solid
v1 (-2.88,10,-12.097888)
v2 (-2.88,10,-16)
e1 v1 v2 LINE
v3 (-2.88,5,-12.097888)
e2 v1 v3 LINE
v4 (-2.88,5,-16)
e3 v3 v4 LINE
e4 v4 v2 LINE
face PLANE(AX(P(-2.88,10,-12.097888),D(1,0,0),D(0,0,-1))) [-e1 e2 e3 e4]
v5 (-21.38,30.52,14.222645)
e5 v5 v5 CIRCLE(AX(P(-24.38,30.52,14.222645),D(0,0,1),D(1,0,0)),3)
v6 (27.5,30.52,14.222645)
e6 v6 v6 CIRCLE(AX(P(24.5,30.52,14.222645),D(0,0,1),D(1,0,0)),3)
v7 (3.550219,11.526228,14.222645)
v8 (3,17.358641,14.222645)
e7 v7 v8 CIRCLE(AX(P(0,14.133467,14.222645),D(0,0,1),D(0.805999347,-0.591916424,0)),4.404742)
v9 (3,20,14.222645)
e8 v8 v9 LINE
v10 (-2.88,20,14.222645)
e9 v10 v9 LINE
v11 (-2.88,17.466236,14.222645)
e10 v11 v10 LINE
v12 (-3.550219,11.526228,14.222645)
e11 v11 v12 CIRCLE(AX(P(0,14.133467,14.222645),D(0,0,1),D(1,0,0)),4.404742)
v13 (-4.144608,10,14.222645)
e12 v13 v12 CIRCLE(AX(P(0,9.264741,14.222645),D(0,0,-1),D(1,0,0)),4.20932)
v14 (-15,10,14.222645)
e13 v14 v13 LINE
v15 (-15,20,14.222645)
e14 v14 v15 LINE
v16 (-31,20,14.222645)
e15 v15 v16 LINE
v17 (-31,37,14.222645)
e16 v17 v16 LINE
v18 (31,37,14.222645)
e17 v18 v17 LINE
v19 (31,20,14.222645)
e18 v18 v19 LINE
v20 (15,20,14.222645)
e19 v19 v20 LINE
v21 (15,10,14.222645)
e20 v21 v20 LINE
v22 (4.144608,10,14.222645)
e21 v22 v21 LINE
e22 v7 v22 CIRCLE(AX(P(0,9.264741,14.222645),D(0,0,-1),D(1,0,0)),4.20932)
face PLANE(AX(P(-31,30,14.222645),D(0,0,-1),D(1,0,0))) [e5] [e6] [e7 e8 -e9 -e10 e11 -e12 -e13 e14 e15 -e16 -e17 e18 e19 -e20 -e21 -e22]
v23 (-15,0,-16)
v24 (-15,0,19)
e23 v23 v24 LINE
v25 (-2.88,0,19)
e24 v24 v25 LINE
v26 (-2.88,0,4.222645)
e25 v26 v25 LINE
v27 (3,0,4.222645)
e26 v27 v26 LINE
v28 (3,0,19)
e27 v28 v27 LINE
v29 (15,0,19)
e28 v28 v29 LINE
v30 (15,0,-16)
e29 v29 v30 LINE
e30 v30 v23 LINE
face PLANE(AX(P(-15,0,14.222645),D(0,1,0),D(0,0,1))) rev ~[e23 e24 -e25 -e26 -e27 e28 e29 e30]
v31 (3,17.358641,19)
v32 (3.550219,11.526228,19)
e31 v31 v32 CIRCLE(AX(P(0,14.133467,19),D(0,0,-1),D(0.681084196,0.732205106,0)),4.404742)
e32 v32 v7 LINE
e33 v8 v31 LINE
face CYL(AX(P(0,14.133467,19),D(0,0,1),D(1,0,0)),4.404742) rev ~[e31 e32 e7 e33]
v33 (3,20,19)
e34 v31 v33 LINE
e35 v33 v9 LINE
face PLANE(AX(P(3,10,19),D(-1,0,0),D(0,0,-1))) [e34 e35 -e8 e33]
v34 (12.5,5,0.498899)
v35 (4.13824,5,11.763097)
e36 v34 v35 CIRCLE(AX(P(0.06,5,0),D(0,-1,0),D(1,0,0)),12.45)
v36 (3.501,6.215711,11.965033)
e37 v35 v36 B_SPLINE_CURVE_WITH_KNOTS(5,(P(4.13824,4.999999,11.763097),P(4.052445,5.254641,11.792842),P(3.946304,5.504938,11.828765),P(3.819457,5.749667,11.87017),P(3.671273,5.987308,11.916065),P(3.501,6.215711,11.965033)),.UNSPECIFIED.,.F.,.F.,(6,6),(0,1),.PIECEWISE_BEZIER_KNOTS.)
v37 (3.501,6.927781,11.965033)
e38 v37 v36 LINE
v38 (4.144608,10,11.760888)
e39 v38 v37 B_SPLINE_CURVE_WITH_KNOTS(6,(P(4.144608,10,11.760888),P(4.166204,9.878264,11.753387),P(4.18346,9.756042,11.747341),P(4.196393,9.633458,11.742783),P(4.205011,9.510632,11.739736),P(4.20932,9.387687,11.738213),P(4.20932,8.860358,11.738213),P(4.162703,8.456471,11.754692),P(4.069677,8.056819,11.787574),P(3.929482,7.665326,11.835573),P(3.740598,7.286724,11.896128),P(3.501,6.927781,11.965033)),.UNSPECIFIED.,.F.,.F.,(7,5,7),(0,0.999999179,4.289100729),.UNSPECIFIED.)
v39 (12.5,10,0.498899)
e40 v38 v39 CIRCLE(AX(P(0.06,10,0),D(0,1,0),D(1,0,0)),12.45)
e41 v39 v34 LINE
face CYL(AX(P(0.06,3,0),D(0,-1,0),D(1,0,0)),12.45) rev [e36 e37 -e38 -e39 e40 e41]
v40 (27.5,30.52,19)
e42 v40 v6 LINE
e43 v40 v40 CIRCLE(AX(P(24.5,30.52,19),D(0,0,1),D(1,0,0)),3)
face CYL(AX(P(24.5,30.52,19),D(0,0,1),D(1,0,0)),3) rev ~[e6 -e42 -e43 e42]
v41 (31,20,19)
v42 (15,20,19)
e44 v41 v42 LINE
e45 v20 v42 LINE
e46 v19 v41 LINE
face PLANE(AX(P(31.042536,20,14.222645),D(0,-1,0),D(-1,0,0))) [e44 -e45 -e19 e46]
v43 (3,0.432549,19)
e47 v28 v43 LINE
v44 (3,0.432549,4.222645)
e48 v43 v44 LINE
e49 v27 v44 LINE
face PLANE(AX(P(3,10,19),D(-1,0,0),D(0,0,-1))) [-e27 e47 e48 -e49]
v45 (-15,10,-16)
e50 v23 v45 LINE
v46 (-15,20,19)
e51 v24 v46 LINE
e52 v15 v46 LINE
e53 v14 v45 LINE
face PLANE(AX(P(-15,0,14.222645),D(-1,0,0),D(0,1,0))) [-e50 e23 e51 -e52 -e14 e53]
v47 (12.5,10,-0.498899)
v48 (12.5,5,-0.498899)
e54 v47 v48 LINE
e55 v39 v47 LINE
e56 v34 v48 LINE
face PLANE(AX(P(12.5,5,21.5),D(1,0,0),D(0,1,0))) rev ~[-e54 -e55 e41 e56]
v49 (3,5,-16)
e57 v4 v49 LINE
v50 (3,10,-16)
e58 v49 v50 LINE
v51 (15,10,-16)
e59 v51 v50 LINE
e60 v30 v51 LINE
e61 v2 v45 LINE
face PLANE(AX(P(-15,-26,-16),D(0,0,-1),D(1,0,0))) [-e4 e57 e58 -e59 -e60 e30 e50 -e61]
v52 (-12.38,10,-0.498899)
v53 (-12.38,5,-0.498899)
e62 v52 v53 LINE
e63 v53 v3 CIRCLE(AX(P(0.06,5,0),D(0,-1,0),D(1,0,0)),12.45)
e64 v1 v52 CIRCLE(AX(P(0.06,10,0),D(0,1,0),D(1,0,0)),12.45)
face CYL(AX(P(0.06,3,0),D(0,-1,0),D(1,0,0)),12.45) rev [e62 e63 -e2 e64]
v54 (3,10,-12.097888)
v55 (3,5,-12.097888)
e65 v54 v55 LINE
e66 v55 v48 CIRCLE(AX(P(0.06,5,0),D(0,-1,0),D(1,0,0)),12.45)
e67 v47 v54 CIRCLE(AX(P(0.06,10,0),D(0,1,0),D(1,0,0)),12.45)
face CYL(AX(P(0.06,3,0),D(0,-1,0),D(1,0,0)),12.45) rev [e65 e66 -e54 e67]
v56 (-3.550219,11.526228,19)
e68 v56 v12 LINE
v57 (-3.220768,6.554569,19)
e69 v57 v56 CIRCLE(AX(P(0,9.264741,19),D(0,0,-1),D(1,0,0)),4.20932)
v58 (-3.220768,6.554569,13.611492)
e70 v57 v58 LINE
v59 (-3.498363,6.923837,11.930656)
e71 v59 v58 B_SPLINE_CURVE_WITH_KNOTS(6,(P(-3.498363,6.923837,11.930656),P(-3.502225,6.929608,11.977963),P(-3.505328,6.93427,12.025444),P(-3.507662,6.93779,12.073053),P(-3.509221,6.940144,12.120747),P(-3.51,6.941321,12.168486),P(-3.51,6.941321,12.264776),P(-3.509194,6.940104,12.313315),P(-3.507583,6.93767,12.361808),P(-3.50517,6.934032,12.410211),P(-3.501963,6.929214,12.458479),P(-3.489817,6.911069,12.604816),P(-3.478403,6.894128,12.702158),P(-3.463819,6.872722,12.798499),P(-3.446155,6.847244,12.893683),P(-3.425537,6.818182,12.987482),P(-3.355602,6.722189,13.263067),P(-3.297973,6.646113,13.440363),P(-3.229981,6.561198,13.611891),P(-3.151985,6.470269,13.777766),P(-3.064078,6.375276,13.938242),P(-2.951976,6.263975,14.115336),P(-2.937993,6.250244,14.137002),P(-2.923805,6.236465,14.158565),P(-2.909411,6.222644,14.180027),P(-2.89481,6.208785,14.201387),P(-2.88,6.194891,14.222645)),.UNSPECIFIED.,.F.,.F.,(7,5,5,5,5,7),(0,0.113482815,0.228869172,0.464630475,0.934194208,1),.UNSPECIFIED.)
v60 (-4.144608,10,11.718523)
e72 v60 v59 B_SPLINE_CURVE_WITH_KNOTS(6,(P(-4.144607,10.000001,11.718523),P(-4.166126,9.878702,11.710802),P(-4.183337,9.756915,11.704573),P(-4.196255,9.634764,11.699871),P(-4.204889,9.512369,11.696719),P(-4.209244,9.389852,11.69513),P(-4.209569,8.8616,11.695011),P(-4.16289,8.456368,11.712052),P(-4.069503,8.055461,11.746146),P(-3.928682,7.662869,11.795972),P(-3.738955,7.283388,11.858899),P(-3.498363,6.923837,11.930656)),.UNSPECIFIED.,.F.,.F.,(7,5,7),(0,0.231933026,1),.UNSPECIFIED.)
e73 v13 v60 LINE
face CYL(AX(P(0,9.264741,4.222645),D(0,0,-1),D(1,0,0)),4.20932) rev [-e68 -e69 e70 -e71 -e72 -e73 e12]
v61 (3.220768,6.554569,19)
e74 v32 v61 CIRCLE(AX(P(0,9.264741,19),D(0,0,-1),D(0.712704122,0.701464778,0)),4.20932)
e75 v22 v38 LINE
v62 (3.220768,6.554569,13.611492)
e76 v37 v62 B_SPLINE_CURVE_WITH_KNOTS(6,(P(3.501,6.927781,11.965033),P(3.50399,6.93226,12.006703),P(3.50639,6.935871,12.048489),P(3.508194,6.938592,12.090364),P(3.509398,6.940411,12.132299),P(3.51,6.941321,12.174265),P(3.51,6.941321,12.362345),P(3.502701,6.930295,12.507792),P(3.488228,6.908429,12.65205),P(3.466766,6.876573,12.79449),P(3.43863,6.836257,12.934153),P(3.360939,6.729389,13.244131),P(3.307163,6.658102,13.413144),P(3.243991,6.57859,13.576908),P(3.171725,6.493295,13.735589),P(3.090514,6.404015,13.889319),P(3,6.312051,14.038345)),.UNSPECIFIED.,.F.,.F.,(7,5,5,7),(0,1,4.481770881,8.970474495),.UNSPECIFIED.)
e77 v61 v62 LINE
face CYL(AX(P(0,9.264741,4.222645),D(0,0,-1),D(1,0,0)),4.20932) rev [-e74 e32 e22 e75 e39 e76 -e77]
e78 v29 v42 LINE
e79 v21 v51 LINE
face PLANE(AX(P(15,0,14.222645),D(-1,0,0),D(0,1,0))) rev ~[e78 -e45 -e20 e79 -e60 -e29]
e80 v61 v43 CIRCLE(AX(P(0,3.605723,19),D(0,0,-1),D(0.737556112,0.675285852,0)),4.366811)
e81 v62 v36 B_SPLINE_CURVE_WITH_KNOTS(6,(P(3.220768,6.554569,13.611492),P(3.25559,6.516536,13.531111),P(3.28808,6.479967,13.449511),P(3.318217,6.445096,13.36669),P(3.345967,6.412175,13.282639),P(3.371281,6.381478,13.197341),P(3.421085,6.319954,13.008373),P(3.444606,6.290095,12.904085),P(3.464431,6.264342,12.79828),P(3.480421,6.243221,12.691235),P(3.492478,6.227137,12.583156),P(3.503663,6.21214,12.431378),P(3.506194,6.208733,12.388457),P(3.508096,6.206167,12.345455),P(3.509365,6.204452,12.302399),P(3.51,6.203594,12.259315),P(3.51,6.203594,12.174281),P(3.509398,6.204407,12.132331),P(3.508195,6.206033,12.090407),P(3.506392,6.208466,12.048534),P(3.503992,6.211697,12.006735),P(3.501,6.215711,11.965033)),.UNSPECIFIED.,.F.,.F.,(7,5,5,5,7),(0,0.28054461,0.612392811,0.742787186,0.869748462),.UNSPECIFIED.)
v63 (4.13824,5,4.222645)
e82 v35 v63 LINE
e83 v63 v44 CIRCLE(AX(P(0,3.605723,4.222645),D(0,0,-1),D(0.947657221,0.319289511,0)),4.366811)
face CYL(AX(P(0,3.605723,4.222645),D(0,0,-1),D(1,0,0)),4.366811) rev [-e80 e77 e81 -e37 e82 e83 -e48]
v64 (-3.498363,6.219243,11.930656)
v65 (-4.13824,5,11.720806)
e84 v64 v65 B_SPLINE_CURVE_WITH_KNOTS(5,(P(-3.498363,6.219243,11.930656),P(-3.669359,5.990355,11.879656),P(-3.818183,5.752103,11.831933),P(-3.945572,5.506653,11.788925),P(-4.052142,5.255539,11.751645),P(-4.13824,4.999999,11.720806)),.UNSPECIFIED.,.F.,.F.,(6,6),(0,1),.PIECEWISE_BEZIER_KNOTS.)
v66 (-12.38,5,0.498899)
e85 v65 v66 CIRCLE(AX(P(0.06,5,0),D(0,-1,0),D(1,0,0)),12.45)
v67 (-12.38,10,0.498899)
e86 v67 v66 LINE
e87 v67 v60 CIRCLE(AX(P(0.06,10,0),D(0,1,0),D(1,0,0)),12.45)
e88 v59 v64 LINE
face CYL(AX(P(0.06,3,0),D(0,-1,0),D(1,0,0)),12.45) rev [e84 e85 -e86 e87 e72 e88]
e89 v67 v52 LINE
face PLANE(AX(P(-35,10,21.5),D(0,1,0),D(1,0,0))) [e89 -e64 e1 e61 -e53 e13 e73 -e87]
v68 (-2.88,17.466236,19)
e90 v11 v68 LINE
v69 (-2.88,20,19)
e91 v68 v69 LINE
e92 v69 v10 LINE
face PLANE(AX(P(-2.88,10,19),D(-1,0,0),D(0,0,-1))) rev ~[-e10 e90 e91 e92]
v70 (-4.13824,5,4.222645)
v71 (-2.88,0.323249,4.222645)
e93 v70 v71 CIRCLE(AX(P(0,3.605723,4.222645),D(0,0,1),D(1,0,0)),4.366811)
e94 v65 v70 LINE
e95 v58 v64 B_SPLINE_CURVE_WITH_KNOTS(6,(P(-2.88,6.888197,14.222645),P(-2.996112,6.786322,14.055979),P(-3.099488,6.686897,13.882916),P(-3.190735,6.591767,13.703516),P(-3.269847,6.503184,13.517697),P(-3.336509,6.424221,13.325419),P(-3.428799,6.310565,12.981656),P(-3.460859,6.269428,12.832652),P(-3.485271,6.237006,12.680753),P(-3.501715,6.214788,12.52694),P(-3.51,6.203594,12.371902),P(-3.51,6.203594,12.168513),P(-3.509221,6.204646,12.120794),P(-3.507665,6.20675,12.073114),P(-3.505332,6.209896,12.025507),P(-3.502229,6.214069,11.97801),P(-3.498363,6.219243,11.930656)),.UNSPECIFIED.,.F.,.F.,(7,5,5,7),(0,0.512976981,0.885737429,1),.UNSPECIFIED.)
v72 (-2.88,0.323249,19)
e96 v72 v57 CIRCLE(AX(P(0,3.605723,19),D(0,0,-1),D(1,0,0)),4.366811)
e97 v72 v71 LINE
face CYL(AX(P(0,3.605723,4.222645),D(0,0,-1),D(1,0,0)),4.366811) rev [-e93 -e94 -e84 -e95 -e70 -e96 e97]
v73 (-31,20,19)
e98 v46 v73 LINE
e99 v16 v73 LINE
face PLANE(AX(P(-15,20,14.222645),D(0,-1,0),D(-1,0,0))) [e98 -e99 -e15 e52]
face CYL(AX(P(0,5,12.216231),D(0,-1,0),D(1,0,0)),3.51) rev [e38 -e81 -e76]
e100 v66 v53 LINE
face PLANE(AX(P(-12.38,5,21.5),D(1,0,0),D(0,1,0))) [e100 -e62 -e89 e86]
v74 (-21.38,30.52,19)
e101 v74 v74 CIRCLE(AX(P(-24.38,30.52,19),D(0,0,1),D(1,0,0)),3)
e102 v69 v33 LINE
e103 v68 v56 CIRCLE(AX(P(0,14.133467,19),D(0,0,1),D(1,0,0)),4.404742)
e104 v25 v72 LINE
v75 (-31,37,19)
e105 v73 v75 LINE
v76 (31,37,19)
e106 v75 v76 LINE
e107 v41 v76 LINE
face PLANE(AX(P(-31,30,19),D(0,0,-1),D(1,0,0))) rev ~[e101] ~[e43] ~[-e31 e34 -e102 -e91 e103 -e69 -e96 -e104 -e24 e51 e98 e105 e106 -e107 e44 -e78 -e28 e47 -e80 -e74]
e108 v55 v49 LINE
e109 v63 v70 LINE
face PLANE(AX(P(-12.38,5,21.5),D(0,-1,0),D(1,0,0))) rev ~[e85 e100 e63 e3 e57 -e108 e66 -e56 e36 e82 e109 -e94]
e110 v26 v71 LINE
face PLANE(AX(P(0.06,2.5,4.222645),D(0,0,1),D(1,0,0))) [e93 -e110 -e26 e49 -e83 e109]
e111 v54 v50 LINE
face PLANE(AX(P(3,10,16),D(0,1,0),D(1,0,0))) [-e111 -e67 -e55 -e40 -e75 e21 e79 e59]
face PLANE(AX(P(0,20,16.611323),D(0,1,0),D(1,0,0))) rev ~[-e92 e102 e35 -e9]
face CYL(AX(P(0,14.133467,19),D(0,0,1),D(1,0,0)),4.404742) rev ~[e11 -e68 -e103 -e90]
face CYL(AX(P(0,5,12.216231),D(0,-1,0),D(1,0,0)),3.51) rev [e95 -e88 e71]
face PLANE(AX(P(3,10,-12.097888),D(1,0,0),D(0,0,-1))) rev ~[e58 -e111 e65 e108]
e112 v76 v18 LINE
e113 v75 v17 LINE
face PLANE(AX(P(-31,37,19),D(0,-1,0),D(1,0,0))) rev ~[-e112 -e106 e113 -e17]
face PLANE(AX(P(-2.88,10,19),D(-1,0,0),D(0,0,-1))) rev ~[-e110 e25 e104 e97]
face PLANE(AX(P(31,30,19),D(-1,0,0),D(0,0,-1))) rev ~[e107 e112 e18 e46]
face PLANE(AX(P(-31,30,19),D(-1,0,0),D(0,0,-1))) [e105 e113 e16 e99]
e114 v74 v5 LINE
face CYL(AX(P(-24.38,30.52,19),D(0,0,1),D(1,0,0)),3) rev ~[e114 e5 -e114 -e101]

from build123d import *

# Parameters (mm, degrees)
SKETCH_1_W                = 70
SKETCH_1_H                = 43
EXTRUDE_1_DEPTH           = 10
SKETCH_8_W                = 24.88
SKETCH_8_H                = 5
CUT_EXTRUDE_4_DEPTH       = 57.338264084
EXTRUDE_1_2_DEPTH         = 5
EXTRUDE_1_2_DEPTH_BACK    = 2
SKETCH_11_R               = 20.45
SKETCH_11_R_2             = 12.45
CUT_EXTRUDE_6_DEPTH       = 5
CUT_EXTRUDE_7_DEPTH       = 5
SKETCH_16_W               = 5.88
SKETCH_16_H               = 11
CUT_EXTRUDE_8_DEPTH       = 5
SKETCH_17_W               = 5.88
SKETCH_17_H               = 8.352111755
CUT_EXTRUDE_9_DEPTH       = 5
CUT_EXTRUDE_10_DEPTH      = 5
CUT_EXTRUDE_11_DEPTH      = 5
SKETCH_21_R               = 3
CUT_EXTRUDE_12_DEPTH      = 43.275879648
SKETCH_22_R               = 3
CUT_EXTRUDE_13_DEPTH      = 43.275879648
SKETCH_24_R               = 3.51
CUT_EXTRUDE_15_DEPTH      = 7
SKETCH_25_W               = 22.5
SKETCH_25_H               = 10
EXTRUDE_2_DEPTH           = 5
SKETCH_26_W               = 22.62
SKETCH_26_H               = 10
EXTRUDE_3_DEPTH           = 5
SKETCH_28_W               = 5.88
SKETCH_28_H               = 7.531424881
CUT_EXTRUDE_16_DEPTH      = 5
CUT_EXTRUDE_2_DEPTH       = 45
CUT_EXTRUDE_2_DEPTH_BACK  = 31
SKETCH_32_W               = 110
SKETCH_32_H               = 112
SKETCH_32_W_2             = 30
SKETCH_32_H_2             = 32
SKETCH_33_W               = 12
SKETCH_33_H               = 10
SKETCH_33_W_2             = 12.12
EXTRUDE_5_DEPTH           = 3
SKETCH_40_W               = 12
SKETCH_40_H               = 4.777354505
EXTRUDE_7_DEPTH           = 10
SKETCH_41_W               = 12.12
SKETCH_41_H               = 4.777354505
EXTRUDE_8_DEPTH           = 10
CUT_EXTRUDE_17_DEPTH      = 10
CUT_EXTRUDE_17_DEPTH_BACK = 10
SKETCH_42_R               = 4.209320402
SKETCH_53_W               = 4.777354505
SKETCH_53_H               = 10
EXTRUDE_9_DEPTH           = 11
SKETCH_56_W               = 4.777354505
SKETCH_56_H               = 20
EXTRUDE_10_DEPTH          = 11
SKETCH_57_W               = 4.777354505
SKETCH_57_H               = 10
CUT_EXTRUDE_18_DEPTH      = 11
SKETCH_58_W               = 4.777354505
SKETCH_58_H               = 10
EXTRUDE_11_DEPTH          = 5
SKETCH_59_W               = 4.777354505
SKETCH_59_H               = 10
EXTRUDE_12_DEPTH          = 5
SKETCH_60_W               = 62
SKETCH_60_H               = 4.777354505
EXTRUDE_13_DEPTH          = 10
SKETCH_61_W               = 5.88
SKETCH_61_H               = 5
CUT_EXTRUDE_19_DEPTH      = 10
SKETCH_69_W               = 4.777354505
SKETCH_69_H               = 10
EXTRUDE_14_DEPTH          = 16
SKETCH_70_W               = 4.777354505
SKETCH_70_H               = 10
EXTRUDE_15_DEPTH          = 16
SKETCH_83_W               = 62
SKETCH_83_H               = 4.777354505
EXTRUDE_16_DEPTH          = 29
SKETCH_86_R               = 3
CUT_EXTRUDE_20_DEPTH      = 76.279479276
SKETCH_85_R               = 3
CUT_EXTRUDE_21_DEPTH      = 76.279479276
SKETCH_87_W               = 62
SKETCH_87_H               = 22
CUT_EXTRUDE_22_DEPTH      = 76.279479276
SKETCH_90_W               = 16.042506896
SKETCH_90_H               = 20
SKETCH_90_W_2             = 16.042536038
CUT_EXTRUDE_23_DEPTH      = 10
SKETCH_91_R               = 4.404741758
CUT_EXTRUDE_24_DEPTH      = 10
SKETCH_92_R               = 4.366810658
CUT_EXTRUDE_25_DEPTH      = 53.335030246


with BuildPart() as part:
    # 草圖1 → Extrude 1 (new body)
    with BuildSketch(Plane(origin=(0, 0, 0), x_dir=(1, 0, 0), z_dir=(0, 1, 0))):
        Rectangle(SKETCH_1_W, SKETCH_1_H)
    extrude(amount=EXTRUDE_1_DEPTH)

    # 草圖8 → 除料-伸長4 (cut, through all)
    with BuildSketch(Plane.XY.offset(21.5)):
        with Locations((0.06, 7.5)):
            Rectangle(SKETCH_8_W, SKETCH_8_H)
    extrude(amount=-CUT_EXTRUDE_4_DEPTH, mode=Mode.SUBTRACT)

    # 草圖11 → Extrude 1 2 (add, two sides: drawn at the far end of the back side and taken through both)
    with BuildSketch(Plane(origin=(0, 5, 0), x_dir=(1, 0, 0), z_dir=(0, 1, 0)).offset(-EXTRUDE_1_2_DEPTH_BACK)):
        with Locations((0.06, 0)):
            Circle(SKETCH_11_R)
        with Locations((0.06, 0)):
            Circle(SKETCH_11_R_2, mode=Mode.SUBTRACT)
    extrude(amount=EXTRUDE_1_2_DEPTH + EXTRUDE_1_2_DEPTH_BACK)

    # 草圖14 → 除料-伸長6 (cut)
    with BuildSketch(Plane(origin=(0, 5, 0), x_dir=(1, 0, 0), z_dir=(0, 1, 0))):
        Polygon((0.06, -20.45), (12.5, -20.45), (12.5, -21.5), (-12.38, -21.5), (-12.38, -20.45), align=None)
    extrude(amount=-CUT_EXTRUDE_6_DEPTH, mode=Mode.SUBTRACT)

    # 草圖15 → 除料-伸長7 (cut)
    with BuildSketch(Plane(origin=(0, 5, 0), x_dir=(1, 0, 0), z_dir=(0, 1, 0))):
        Polygon((0.06, 20.45), (12.5, 20.45), (12.5, 21.5), (-12.38, 21.5), (-12.38, 20.45), align=None)
    extrude(amount=-CUT_EXTRUDE_7_DEPTH, mode=Mode.SUBTRACT)

    # 草圖16 → 除料-伸長8 (cut)
    with BuildSketch(Plane(origin=(0, 10, 0), x_dir=(1, 0, 0), z_dir=(0, 1, 0))):
        with Locations((0.06, 17.597888245)):
            Rectangle(SKETCH_16_W, SKETCH_16_H)
    extrude(amount=-CUT_EXTRUDE_8_DEPTH, mode=Mode.SUBTRACT)

    # 草圖17 → 除料-伸長9 (cut)
    with BuildSketch(Plane(origin=(0, 10, 0), x_dir=(1, 0, 0), z_dir=(0, 1, 0))):
        with Locations((0.06, -16.273944123)):
            Rectangle(SKETCH_17_W, SKETCH_17_H)
    extrude(amount=-CUT_EXTRUDE_9_DEPTH, mode=Mode.SUBTRACT)

    # 草圖19 → 除料-伸長10 (cut)
    with BuildSketch(Plane(origin=(0, 5, 0), x_dir=(1, 0, 0), z_dir=(0, 1, 0))):
        Polygon((-2.88, 20.237561612), (-2.88, 20.45), (2.98755849, 20.45), (3, 20.237561612), align=None)
    extrude(amount=-CUT_EXTRUDE_10_DEPTH, mode=Mode.SUBTRACT)

    # 草圖20 → 除料-伸長11 (cut)
    with BuildSketch(Plane(origin=(0, 5, 0), x_dir=(1, 0, 0), z_dir=(0, 1, 0))):
        Polygon((3, -20.237561612), (3, -20.45), (-2.887827835, -20.45), (-2.88, -20.237561612), align=None)
    extrude(amount=-CUT_EXTRUDE_11_DEPTH, mode=Mode.SUBTRACT)

    # 草圖21 → 除料-伸長12 (cut, through all)
    with BuildSketch(Plane(origin=(0, 10, 0), x_dir=(1, 0, 0), z_dir=(0, 1, 0))):
        with Locations(Location((-25, 11.5, 0), (0, 0, 270))):
            Circle(SKETCH_21_R)
    extrude(amount=-CUT_EXTRUDE_12_DEPTH, mode=Mode.SUBTRACT)

    # 草圖22 → 除料-伸長13 (cut, through all)
    with BuildSketch(Plane(origin=(0, 10, 0), x_dir=(1, 0, 0), z_dir=(0, 1, 0))):
        with Locations(Location((25, 11.5, 0), (0, 0, 270))):
            Circle(SKETCH_22_R)
    extrude(amount=-CUT_EXTRUDE_13_DEPTH, mode=Mode.SUBTRACT)

    # 草圖24 → 除料-伸長15 (cut)
    with BuildSketch(Plane(origin=(0, 5, 0), x_dir=(1, 0, 0), z_dir=(0, 1, 0))):
        with Locations((0, -12.216230782)):
            Circle(SKETCH_24_R)
    extrude(amount=CUT_EXTRUDE_15_DEPTH, mode=Mode.SUBTRACT)

    # 草圖25 → 填料-伸長2 (add)
    with BuildSketch(Plane.XY.offset(21.5)):
        with Locations((23.75, 5)):
            Rectangle(SKETCH_25_W, SKETCH_25_H)
    extrude(amount=EXTRUDE_2_DEPTH)

    # 草圖26 → 填料-伸長3 (add)
    with BuildSketch(Plane.XY.offset(21.5)):
        with Locations((-23.69, 5)):
            Rectangle(SKETCH_26_W, SKETCH_26_H)
    extrude(amount=EXTRUDE_3_DEPTH)

    # 草圖28 → 除料-伸長16 (cut)
    with BuildSketch(Plane(origin=(0, 5, 0), x_dir=(1, 0, 0), z_dir=(0, 1, 0))):
        with Locations((0.06, -17.988357936)):
            Rectangle(SKETCH_28_W, SKETCH_28_H)
    extrude(amount=-CUT_EXTRUDE_16_DEPTH, mode=Mode.SUBTRACT)

    # 草圖32 → 除料-伸長-薄件2 (cut, two sides: drawn at the far end of the back side and taken through both)
    with BuildSketch(Plane(origin=(0, 5, 0), x_dir=(1, 0, 0), z_dir=(0, 1, 0)).offset(-CUT_EXTRUDE_2_DEPTH_BACK)):
        Rectangle(SKETCH_32_W, SKETCH_32_H)
        Rectangle(SKETCH_32_W_2, SKETCH_32_H_2, mode=Mode.SUBTRACT)
    extrude(amount=CUT_EXTRUDE_2_DEPTH + CUT_EXTRUDE_2_DEPTH_BACK, mode=Mode.SUBTRACT)

    # 草圖33 → 填料-伸長5 (add)
    with BuildSketch(Plane.XY.offset(16)):
        with Locations((9, 5)):
            Rectangle(SKETCH_33_W, SKETCH_33_H)
        with Locations((-8.94, 5)):
            Rectangle(SKETCH_33_W_2, SKETCH_33_H)
    extrude(amount=EXTRUDE_5_DEPTH)

    # 草圖40 → 填料-伸長7 (add)
    with BuildSketch(Plane(origin=(0, 10, 0), x_dir=(1, 0, 0), z_dir=(0, 1, 0))):
        with Locations((9, -16.611322748)):
            Rectangle(SKETCH_40_W, SKETCH_40_H)
    extrude(amount=EXTRUDE_7_DEPTH)

    # 草圖41 → 填料-伸長8 (add)
    with BuildSketch(Plane(origin=(0, 10, 0), x_dir=(1, 0, 0), z_dir=(0, 1, 0))):
        with Locations((-8.94, -16.611322748)):
            Rectangle(SKETCH_41_W, SKETCH_41_H)
    extrude(amount=EXTRUDE_8_DEPTH)

    # 草圖42 → 除料-伸長17 (cut, two sides: drawn at the far end of the back side and taken through both)
    with BuildSketch(Plane.XY.offset(14.222645495).offset(-CUT_EXTRUDE_17_DEPTH_BACK)):
        with Locations((0, 9.264740645)):
            Circle(SKETCH_42_R)
    extrude(amount=CUT_EXTRUDE_17_DEPTH + CUT_EXTRUDE_17_DEPTH_BACK, mode=Mode.SUBTRACT)

    # 草圖53 → 填料-伸長9 (add)
    with BuildSketch(Plane.ZY.offset(15)):
        with Locations((16.611322748, 15)):
            Rectangle(SKETCH_53_W, SKETCH_53_H)
    extrude(amount=EXTRUDE_9_DEPTH)

    # 草圖56 → 填料-伸長10 (add)
    with BuildSketch(Plane(origin=(15, 0, 0), x_dir=(0, 0, -1), z_dir=(1, 0, 0))):
        with Locations((-16.611322748, 10)):
            Rectangle(SKETCH_56_W, SKETCH_56_H)
    extrude(amount=EXTRUDE_10_DEPTH)

    # 草圖57 → 除料-伸長18 (cut)
    with BuildSketch(Plane(origin=(26, 0, 0), x_dir=(0, 0, -1), z_dir=(1, 0, 0))):
        with Locations((-16.611322748, 5)):
            Rectangle(SKETCH_57_W, SKETCH_57_H)
    extrude(amount=-CUT_EXTRUDE_18_DEPTH, mode=Mode.SUBTRACT)

    # 草圖58 → 填料-伸長11 (add)
    with BuildSketch(Plane(origin=(26, 0, 0), x_dir=(0, 0, -1), z_dir=(1, 0, 0))):
        with Locations((-16.611322748, 15)):
            Rectangle(SKETCH_58_W, SKETCH_58_H)
    extrude(amount=EXTRUDE_11_DEPTH)

    # 草圖59 → 填料-伸長12 (add)
    with BuildSketch(Plane.ZY.offset(26)):
        with Locations((16.611322748, 15)):
            Rectangle(SKETCH_59_W, SKETCH_59_H)
    extrude(amount=EXTRUDE_12_DEPTH)

    # 草圖60 → 填料-伸長13 (add)
    with BuildSketch(Plane(origin=(0, 20, 0), x_dir=(1, 0, 0), z_dir=(0, 1, 0))):
        with Locations((0, -16.611322748)):
            Rectangle(SKETCH_60_W, SKETCH_60_H)
    extrude(amount=EXTRUDE_13_DEPTH)

    # 草圖61 → 除料-伸長19 (cut)
    with BuildSketch(Plane.XY.offset(14.222645495)):
        with Locations((0.06, 2.5)):
            Rectangle(SKETCH_61_W, SKETCH_61_H)
    extrude(amount=-CUT_EXTRUDE_19_DEPTH, mode=Mode.SUBTRACT)

    # 草圖69 → 填料-伸長14 (add)
    with BuildSketch(Plane(origin=(15, 0, 0), x_dir=(0, 0, -1), z_dir=(1, 0, 0))):
        with Locations((-16.611322748, 5)):
            Rectangle(SKETCH_69_W, SKETCH_69_H)
    extrude(amount=EXTRUDE_14_DEPTH)

    # 草圖70 → 填料-伸長15 (add)
    with BuildSketch(Plane.ZY.offset(15)):
        with Locations((16.611322748, 5)):
            Rectangle(SKETCH_70_W, SKETCH_70_H)
    extrude(amount=EXTRUDE_15_DEPTH)

    # 草圖83 → 填料-伸長16 (add)
    with BuildSketch(Plane(origin=(0, 30, 0), x_dir=(1, 0, 0), z_dir=(0, 1, 0))):
        with Locations((0, -16.611322748)):
            Rectangle(SKETCH_83_W, SKETCH_83_H)
    extrude(amount=EXTRUDE_16_DEPTH)

    # 草圖86 → 除料-伸長20 (cut, through all)
    with BuildSketch(Plane.XY.offset(19)):
        with Locations((-24.38, 30.52)):
            Circle(SKETCH_86_R)
    extrude(amount=-CUT_EXTRUDE_20_DEPTH, mode=Mode.SUBTRACT)

    # 草圖85 → 除料-伸長21 (cut, through all)
    with BuildSketch(Plane.XY.offset(19)):
        with Locations((24.5, 30.52)):
            Circle(SKETCH_85_R)
    extrude(amount=-CUT_EXTRUDE_21_DEPTH, mode=Mode.SUBTRACT)

    # 草圖87 → 除料-伸長22 (cut, through all)
    with BuildSketch(Plane.XY.offset(19)):
        with Locations((0, 48)):
            Rectangle(SKETCH_87_W, SKETCH_87_H)
    extrude(amount=-CUT_EXTRUDE_22_DEPTH, mode=Mode.SUBTRACT)

    # 草圖90 → 除料-伸長23 (cut)
    with BuildSketch(Plane(origin=(0, 0, 14.222645495), x_dir=(-1, 0, 0), z_dir=(0, 0, -1))):
        with Locations((23.021253448, 10)):
            Rectangle(SKETCH_90_W, SKETCH_90_H)
        with Locations((-23.021268019, 10)):
            Rectangle(SKETCH_90_W_2, SKETCH_90_H)
    extrude(amount=-CUT_EXTRUDE_23_DEPTH, mode=Mode.SUBTRACT)

    # 草圖91 → 除料-伸長24 (cut)
    with BuildSketch(Plane.XY.offset(19)):
        with Locations((0, 14.133466634)):
            Circle(SKETCH_91_R)
    extrude(amount=-CUT_EXTRUDE_24_DEPTH, mode=Mode.SUBTRACT)

    # 草圖92 → 除料-伸長25 (cut, through all)
    with BuildSketch(Plane.XY.offset(4.222645495)):
        with Locations((0, 3.605723159)):
            Circle(SKETCH_92_R)
    extrude(amount=CUT_EXTRUDE_25_DEPTH, mode=Mode.SUBTRACT)


solid = part.part
